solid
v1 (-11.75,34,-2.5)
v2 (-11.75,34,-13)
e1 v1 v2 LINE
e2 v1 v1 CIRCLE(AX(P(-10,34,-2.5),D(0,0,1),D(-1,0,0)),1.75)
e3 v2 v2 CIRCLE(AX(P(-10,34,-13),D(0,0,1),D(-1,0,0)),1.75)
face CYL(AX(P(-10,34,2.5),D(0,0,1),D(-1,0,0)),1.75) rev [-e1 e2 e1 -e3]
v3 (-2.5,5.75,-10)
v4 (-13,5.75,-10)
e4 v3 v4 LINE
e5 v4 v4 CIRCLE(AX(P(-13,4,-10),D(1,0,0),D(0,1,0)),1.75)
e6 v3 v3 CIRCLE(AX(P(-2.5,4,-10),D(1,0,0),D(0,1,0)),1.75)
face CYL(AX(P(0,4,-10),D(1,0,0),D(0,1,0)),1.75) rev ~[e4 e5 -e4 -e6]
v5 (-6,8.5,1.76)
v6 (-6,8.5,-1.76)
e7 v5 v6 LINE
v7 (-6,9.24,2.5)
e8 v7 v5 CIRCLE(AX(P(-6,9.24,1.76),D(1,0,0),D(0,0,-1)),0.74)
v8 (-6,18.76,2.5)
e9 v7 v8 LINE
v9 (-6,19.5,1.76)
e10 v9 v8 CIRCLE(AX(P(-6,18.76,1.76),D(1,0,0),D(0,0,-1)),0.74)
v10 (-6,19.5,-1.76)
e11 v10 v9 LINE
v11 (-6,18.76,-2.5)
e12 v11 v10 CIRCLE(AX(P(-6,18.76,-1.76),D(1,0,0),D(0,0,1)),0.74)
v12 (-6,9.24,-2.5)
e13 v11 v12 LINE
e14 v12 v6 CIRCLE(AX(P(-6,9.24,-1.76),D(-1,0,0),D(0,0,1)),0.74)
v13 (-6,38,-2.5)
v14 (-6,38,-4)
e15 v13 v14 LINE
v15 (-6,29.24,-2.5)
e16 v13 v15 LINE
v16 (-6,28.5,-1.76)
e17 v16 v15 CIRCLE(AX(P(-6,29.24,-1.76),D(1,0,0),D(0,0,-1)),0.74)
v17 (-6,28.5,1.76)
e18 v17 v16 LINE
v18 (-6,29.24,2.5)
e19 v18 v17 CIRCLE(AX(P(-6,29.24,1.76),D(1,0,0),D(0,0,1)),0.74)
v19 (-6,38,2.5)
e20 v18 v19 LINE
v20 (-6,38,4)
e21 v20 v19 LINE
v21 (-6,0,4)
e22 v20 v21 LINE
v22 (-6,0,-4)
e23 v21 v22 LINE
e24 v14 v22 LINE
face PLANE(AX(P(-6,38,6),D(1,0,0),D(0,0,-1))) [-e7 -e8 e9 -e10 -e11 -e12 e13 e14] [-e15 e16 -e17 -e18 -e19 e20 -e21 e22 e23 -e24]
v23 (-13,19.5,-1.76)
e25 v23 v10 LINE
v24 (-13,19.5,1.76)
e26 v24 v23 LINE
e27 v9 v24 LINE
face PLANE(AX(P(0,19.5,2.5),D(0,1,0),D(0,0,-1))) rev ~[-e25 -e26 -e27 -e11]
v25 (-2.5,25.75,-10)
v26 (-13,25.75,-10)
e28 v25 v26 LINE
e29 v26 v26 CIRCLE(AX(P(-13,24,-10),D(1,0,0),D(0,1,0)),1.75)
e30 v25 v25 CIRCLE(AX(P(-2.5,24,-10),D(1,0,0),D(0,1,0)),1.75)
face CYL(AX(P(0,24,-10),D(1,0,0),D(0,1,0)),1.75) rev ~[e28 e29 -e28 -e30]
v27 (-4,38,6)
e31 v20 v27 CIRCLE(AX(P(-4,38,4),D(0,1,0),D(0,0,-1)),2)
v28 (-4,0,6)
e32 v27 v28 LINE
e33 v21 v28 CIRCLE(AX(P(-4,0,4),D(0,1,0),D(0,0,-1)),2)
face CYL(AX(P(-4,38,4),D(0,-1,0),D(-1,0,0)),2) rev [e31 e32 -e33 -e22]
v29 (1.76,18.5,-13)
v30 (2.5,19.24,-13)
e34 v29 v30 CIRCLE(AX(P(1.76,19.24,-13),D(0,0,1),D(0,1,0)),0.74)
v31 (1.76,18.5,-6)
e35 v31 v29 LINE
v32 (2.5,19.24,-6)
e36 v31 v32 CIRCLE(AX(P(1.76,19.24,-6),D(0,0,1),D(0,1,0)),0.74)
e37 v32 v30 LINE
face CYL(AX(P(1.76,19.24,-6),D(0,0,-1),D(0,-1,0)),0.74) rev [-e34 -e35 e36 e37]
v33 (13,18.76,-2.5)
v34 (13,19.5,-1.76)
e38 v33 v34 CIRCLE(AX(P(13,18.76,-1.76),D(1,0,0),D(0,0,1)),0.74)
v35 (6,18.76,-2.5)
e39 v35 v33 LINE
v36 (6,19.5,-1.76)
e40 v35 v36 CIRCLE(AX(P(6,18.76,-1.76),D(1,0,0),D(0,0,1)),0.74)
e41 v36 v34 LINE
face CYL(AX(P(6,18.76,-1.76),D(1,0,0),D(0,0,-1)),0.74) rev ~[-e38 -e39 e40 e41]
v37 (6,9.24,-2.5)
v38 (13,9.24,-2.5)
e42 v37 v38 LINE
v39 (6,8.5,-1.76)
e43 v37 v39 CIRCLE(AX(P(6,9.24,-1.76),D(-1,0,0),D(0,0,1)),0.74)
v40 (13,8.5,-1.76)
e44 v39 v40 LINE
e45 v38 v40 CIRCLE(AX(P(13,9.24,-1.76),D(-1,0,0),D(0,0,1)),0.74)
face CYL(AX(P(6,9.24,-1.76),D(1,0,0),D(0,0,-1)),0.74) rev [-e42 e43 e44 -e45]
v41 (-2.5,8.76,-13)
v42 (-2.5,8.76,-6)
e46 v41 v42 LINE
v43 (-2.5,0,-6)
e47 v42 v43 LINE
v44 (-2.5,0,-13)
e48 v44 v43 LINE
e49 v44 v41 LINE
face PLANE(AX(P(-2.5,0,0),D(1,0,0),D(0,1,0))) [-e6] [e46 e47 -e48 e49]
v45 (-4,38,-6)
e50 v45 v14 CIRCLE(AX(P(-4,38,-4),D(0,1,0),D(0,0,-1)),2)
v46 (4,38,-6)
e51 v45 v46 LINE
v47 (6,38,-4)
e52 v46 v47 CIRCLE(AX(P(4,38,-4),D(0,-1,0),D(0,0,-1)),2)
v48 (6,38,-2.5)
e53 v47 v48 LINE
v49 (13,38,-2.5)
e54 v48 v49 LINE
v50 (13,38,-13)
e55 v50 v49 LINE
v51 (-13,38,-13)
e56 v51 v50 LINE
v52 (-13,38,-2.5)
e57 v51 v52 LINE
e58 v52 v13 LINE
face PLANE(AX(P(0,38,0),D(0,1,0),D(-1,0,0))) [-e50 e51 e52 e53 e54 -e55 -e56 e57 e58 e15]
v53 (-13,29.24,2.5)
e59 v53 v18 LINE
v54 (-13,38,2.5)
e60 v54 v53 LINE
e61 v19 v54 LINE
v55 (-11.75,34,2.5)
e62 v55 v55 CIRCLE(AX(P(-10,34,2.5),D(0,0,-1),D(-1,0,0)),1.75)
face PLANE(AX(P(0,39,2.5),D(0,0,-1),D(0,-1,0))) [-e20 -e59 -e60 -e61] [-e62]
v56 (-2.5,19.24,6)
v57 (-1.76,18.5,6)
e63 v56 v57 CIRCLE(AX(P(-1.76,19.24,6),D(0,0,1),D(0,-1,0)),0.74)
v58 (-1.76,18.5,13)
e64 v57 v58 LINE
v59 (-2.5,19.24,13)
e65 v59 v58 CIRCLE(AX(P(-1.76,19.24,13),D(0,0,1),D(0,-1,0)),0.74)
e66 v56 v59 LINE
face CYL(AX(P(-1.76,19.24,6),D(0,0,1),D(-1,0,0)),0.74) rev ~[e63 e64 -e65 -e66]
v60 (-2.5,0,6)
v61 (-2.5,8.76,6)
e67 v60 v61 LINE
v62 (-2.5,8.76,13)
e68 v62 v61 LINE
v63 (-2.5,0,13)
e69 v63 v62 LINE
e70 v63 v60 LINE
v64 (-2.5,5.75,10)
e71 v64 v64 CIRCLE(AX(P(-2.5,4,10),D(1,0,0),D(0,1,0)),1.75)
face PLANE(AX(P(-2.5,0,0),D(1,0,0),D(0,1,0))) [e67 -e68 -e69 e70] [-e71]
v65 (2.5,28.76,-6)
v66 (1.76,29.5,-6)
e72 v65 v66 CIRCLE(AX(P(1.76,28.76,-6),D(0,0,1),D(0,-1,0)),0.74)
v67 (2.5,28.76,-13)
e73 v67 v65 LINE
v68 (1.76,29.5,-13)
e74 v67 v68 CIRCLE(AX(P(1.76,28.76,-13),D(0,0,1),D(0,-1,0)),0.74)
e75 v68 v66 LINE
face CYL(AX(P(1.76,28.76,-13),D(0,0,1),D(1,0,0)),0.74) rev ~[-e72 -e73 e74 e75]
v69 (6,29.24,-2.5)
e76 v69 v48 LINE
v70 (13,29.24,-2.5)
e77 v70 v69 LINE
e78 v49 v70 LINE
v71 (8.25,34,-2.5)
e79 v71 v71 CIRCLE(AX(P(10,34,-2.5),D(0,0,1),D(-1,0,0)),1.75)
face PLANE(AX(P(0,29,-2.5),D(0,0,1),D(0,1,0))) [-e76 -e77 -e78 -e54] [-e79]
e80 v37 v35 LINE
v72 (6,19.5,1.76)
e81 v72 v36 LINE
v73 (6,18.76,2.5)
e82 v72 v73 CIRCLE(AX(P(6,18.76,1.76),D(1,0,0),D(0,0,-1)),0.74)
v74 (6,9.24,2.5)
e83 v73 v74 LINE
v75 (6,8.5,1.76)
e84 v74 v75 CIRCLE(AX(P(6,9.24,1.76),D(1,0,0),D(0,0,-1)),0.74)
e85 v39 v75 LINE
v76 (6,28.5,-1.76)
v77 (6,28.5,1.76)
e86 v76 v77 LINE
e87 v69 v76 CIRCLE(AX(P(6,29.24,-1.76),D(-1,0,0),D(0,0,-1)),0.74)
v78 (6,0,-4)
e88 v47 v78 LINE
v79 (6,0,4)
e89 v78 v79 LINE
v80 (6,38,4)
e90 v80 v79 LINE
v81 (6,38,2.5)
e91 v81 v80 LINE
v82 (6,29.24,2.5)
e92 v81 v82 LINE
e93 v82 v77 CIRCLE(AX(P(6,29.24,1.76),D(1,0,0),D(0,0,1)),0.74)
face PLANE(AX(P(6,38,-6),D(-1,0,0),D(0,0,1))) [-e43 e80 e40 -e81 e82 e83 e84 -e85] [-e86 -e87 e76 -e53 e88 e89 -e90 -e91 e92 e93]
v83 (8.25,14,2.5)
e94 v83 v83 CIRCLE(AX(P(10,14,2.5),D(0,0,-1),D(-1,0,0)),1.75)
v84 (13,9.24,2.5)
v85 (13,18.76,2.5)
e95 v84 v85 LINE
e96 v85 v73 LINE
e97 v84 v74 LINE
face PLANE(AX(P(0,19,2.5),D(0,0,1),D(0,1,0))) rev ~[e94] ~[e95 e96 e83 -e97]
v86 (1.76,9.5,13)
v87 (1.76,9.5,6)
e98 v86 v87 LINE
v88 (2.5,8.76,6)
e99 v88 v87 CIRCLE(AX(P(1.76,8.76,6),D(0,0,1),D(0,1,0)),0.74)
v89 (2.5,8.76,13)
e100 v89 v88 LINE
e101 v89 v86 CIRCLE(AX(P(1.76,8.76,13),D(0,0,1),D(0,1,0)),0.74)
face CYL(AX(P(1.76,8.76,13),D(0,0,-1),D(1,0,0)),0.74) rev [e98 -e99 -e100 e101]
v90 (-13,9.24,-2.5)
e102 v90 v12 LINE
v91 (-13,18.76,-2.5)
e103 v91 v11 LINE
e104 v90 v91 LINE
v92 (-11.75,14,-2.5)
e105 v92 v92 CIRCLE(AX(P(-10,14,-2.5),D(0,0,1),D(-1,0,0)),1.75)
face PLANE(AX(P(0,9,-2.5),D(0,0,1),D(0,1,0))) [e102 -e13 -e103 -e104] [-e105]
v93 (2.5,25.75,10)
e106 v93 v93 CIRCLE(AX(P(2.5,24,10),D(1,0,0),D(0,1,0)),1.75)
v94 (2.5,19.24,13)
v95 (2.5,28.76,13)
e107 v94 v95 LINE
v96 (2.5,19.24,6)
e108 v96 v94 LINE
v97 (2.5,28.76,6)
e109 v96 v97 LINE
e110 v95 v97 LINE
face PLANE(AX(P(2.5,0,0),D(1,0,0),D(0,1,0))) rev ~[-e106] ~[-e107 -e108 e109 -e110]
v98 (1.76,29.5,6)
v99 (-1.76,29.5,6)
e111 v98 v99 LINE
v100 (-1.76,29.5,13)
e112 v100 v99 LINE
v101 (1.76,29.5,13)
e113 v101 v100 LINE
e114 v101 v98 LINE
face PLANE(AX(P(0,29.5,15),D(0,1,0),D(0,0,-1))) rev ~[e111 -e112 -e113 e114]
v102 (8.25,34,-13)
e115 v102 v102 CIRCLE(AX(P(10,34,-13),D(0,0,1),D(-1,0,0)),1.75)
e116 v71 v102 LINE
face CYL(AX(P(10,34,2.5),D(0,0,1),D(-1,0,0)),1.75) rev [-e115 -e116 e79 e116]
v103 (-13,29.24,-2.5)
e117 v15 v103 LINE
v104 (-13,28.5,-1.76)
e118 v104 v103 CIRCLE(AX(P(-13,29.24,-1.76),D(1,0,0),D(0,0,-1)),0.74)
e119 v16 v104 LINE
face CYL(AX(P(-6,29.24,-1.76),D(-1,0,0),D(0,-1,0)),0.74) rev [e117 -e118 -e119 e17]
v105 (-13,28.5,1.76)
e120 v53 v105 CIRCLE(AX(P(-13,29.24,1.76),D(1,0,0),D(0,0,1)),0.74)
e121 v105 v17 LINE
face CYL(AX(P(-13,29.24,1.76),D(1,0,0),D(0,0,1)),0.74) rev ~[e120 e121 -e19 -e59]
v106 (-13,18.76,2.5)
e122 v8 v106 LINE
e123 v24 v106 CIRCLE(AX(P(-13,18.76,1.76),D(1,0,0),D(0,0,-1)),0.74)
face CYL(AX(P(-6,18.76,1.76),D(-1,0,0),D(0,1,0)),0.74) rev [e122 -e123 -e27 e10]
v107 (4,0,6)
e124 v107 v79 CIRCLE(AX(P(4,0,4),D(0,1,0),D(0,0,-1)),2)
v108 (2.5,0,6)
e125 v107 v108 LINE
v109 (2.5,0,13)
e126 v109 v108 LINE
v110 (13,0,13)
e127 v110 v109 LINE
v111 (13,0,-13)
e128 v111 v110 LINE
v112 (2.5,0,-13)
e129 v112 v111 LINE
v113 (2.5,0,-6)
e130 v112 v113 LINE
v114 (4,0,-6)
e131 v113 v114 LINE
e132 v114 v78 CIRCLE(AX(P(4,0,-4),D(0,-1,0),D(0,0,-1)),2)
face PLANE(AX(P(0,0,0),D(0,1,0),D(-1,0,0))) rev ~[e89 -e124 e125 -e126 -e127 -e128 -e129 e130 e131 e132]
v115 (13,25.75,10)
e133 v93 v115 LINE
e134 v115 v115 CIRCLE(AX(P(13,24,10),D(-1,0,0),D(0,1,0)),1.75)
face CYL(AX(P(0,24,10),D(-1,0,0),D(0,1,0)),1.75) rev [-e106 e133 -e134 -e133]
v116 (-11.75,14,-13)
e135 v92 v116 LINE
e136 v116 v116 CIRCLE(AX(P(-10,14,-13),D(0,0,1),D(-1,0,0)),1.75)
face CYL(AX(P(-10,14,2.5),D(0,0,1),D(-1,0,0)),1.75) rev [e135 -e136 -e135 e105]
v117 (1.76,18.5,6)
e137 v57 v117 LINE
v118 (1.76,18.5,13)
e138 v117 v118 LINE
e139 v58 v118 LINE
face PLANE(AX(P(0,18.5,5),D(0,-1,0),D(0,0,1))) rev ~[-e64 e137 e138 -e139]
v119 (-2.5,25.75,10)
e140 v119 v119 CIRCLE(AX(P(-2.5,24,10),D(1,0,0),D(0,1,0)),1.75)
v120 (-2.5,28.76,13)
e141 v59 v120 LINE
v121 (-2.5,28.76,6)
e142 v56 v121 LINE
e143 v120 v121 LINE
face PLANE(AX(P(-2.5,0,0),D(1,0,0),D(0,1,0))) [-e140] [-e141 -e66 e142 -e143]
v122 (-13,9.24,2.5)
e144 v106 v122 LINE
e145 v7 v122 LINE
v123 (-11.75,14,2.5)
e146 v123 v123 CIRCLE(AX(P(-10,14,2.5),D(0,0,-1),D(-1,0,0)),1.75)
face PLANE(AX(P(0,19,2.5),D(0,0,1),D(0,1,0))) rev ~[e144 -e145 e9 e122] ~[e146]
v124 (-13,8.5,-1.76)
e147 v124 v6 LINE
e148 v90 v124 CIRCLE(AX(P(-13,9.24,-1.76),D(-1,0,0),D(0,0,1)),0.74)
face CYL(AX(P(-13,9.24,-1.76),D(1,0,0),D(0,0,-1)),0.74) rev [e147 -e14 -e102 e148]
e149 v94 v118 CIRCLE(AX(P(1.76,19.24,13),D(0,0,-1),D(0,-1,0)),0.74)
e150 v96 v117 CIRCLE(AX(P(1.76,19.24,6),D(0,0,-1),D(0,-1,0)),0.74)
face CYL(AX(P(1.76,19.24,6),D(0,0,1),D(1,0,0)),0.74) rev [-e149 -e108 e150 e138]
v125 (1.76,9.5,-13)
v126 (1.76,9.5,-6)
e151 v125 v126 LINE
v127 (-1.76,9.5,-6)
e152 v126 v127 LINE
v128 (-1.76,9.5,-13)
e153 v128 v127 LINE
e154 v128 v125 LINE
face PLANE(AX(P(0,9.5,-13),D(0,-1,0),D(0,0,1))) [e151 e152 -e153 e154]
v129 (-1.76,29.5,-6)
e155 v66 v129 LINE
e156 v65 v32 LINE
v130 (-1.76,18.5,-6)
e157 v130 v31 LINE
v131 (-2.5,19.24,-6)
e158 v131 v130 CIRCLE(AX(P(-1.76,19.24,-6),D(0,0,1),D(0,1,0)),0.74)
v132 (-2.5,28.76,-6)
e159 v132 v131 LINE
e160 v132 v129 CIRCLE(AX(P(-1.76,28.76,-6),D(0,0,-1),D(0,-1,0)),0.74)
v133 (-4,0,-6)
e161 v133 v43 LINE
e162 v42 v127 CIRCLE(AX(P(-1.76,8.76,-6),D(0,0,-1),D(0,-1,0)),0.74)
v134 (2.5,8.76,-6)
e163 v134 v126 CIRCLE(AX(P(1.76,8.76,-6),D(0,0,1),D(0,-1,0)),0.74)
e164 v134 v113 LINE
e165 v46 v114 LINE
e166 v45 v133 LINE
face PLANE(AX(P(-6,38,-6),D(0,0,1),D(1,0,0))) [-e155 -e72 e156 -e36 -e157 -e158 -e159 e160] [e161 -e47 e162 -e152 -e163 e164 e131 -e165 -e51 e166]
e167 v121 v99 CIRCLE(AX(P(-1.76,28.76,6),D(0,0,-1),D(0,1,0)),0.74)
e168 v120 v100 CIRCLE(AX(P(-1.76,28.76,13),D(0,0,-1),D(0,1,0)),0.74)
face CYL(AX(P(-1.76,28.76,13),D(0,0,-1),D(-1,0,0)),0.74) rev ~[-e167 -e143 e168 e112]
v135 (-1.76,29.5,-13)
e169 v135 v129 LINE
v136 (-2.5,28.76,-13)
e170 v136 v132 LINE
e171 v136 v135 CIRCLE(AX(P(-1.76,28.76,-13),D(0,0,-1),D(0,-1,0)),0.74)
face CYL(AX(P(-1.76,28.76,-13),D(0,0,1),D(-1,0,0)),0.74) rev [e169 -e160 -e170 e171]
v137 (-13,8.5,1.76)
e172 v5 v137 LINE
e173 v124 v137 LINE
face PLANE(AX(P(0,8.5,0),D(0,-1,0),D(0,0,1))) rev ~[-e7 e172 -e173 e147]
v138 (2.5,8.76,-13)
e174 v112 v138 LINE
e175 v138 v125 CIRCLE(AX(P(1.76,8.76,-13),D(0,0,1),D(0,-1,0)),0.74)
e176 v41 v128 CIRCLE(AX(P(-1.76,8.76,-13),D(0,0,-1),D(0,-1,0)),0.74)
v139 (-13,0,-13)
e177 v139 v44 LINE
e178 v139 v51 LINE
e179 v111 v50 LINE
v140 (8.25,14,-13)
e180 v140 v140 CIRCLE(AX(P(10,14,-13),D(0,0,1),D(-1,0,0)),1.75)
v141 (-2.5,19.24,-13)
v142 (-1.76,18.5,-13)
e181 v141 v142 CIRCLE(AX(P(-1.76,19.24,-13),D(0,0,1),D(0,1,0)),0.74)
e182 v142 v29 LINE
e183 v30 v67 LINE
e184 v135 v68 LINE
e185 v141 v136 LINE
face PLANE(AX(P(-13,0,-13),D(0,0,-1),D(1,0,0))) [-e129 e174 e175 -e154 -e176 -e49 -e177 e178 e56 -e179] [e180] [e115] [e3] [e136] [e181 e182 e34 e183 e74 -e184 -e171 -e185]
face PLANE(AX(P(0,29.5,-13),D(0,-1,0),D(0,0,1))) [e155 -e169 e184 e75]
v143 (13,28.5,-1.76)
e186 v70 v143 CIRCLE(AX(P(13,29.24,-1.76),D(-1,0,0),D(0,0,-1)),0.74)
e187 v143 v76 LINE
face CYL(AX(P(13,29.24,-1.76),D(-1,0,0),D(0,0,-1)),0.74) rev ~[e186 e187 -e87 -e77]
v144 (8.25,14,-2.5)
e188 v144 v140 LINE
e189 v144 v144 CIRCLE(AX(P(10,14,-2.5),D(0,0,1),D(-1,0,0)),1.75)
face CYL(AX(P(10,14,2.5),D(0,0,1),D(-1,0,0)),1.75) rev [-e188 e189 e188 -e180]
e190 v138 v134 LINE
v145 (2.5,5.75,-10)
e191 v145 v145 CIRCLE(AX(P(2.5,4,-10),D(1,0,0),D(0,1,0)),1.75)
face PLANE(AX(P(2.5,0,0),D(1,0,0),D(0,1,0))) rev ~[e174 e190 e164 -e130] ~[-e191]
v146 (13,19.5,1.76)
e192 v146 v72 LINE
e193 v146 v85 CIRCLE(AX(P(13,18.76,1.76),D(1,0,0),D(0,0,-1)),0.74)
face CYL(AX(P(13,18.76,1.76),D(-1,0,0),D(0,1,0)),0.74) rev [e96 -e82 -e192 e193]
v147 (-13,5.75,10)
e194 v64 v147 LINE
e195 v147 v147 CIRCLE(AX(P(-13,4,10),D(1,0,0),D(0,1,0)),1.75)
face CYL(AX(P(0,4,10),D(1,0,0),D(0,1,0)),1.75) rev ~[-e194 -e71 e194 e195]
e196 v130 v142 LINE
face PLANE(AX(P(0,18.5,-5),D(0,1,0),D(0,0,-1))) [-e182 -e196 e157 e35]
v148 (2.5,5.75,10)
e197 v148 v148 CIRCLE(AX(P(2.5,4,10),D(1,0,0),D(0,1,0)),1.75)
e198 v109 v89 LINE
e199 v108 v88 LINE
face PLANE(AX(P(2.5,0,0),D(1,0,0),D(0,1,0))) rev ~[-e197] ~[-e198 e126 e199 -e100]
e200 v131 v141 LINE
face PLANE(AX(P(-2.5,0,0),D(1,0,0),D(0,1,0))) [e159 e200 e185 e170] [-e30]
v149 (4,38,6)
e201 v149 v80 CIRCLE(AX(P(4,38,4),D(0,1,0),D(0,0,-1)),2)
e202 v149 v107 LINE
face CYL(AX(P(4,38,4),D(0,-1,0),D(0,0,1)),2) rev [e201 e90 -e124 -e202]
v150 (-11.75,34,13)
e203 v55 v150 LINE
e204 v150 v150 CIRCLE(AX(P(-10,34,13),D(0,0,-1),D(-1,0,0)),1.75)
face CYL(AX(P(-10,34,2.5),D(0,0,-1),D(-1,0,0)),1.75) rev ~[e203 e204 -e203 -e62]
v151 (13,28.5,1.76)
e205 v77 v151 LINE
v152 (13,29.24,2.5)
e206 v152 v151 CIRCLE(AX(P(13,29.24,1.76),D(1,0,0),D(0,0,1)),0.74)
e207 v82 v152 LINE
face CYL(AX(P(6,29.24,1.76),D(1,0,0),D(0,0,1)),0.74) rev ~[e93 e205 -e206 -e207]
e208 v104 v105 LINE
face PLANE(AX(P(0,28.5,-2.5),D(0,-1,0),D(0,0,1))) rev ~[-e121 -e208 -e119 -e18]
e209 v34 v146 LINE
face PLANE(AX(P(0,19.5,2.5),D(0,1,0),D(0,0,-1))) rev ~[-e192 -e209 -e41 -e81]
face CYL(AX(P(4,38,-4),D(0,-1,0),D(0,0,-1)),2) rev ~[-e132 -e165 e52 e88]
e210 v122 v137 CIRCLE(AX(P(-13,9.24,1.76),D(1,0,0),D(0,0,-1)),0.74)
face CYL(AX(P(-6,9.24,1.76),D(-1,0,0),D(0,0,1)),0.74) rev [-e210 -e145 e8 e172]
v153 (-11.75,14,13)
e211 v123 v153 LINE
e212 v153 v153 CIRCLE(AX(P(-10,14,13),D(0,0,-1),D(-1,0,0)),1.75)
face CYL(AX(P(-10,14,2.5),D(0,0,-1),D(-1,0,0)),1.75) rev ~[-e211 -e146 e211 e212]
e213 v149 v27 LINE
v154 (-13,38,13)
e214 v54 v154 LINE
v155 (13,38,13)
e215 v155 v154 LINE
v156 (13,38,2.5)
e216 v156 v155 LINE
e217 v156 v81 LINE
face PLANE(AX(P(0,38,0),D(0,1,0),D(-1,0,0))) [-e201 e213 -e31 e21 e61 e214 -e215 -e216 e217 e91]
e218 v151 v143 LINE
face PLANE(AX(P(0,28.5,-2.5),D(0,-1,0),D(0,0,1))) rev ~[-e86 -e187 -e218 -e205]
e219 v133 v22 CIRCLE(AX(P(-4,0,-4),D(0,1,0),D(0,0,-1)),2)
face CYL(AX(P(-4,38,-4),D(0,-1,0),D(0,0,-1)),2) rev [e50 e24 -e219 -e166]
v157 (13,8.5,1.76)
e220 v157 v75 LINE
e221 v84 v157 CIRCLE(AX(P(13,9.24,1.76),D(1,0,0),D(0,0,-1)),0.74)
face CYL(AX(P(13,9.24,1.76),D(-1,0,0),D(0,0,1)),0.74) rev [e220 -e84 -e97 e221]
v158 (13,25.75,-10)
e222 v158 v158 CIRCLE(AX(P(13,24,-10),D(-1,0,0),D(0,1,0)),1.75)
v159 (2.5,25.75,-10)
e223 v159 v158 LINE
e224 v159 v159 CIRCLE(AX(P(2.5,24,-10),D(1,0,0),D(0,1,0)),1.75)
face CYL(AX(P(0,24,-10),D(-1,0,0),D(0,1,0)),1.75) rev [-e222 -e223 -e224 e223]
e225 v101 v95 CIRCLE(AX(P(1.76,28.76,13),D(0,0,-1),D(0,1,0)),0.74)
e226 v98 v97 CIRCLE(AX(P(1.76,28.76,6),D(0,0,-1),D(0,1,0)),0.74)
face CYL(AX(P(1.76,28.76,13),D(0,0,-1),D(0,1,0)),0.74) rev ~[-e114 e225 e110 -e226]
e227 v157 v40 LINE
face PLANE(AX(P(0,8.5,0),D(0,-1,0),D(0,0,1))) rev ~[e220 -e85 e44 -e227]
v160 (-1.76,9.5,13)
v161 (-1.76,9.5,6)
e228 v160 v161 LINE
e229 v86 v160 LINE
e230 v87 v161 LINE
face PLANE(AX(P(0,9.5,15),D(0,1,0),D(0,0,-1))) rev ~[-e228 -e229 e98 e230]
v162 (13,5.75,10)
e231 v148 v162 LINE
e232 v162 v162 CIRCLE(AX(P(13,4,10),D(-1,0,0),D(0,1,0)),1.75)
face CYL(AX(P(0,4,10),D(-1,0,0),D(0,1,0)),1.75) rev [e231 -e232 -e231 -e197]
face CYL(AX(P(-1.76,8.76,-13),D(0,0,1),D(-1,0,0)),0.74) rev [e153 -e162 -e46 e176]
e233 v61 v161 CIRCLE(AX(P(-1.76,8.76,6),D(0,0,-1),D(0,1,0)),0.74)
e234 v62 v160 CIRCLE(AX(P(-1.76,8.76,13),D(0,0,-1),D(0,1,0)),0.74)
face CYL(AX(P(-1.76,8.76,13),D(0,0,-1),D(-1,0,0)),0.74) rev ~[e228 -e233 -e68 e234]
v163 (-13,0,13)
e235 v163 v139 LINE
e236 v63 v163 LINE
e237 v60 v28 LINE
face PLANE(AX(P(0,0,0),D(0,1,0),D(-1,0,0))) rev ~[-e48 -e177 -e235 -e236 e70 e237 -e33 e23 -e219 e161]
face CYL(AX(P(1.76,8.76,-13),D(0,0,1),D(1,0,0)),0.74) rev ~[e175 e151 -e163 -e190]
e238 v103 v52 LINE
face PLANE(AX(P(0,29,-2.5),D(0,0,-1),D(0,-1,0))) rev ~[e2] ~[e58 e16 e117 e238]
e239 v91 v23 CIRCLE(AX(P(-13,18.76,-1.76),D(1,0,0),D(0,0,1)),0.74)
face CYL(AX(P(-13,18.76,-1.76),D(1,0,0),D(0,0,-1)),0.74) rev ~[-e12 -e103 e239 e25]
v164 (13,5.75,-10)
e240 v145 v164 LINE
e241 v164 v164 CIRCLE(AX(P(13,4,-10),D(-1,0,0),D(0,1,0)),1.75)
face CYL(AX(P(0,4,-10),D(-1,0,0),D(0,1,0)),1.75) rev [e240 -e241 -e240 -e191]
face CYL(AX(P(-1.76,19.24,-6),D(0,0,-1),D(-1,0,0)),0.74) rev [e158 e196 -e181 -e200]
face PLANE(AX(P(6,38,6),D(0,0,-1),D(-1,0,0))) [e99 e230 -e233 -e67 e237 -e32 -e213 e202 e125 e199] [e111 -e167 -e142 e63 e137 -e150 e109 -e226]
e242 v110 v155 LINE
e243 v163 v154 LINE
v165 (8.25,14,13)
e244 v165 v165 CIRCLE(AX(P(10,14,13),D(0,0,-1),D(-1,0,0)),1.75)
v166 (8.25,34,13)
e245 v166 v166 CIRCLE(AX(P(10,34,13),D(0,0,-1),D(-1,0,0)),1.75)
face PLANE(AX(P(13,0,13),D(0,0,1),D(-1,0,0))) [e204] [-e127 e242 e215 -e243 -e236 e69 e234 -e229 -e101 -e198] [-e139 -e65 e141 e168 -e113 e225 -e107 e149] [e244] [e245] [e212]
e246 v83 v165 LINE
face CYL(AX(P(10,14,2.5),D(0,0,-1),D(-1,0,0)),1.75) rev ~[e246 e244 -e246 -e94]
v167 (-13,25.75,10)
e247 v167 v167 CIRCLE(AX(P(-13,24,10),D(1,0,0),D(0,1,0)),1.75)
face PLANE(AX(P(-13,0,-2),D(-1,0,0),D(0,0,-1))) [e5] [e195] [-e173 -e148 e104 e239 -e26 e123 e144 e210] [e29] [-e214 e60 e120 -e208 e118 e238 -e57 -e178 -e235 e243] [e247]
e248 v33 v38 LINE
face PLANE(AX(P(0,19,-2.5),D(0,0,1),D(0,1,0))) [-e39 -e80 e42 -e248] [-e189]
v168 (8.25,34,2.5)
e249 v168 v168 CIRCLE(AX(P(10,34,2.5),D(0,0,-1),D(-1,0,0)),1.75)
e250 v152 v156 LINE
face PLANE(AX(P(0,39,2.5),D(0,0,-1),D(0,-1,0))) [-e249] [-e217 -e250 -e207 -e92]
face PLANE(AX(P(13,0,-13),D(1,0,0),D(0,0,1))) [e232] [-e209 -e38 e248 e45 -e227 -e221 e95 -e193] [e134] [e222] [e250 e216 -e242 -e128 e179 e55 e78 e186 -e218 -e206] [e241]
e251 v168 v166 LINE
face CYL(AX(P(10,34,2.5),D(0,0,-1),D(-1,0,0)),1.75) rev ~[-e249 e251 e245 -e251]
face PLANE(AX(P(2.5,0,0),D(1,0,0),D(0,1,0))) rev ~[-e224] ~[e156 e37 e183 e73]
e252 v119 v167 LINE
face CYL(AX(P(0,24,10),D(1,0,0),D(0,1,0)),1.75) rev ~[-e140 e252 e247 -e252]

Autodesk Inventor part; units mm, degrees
ref_plane "YZ Plane" through (0, 0, 0) normal (1, 0, 0) x (0, 1, 0)
ref_plane "XZ Plane" through (0, 0, 0) normal (0, 1, 0) x (-1, 0, 0)
ref_plane "XY Plane" through (0, 0, 0) normal (0, 0, 1) x (1, 0, 0)
sketch "Sketch1" plane through (0, 0, 0) normal (0, 1, 0) x (-1, 0, 0)
  line L0 (5, 5) -> (-5, 5)
  line L1 (-5, 5) -> (-5, -5)
  line L2 (-5, -5) -> (5, -5)
  line L3 (5, -5) -> (5, 5)
  line L4 (5, 5) -> (-5, -5) construction
  line L5 (-5, 5) -> (5, -5) construction
  line L6 (15, 0) -> (15, -2)
  line L7 (15, -2) -> (5, -2)
  line L8 (5, -2) -> (5, 0)
  line L9 (15, 0) -> (15, 2)
  line L10 (15, 2) -> (5, 2)
  line L11 (-13, 13) -> (13, 13)
  line L12 (13, 13) -> (13, -13)
  line L13 (13, -13) -> (-13, -13)
  line L14 (-13, -13) -> (-13, 13)
  line L15 (-13, 13) -> (13, -13) construction
  line L16 (13, 13) -> (-13, -13) construction
  point P0 (0, 0)
  point P1 (10, 0)
  point P2 (13, 0)
  dimension "d0" = 10
  dimension "d1" = 10
  dimension "d2" = 10
  dimension "d3" = 2
  dimension "d4" = 5
  dimension "d5" = 2
  dimension "d6" = 3
  dimension "d7" = 3
extrude "Extrusion1" add sketch "Sketch1" along normal blind 38 contours L0 L1 L2 L3 L7 L12 L13 L14 L11 L10 | L10 L12 L7 L3
sketch "Sketch2" plane through (0, 0, 0) normal (1, 0, 0) x (0, 1, 0)
  line L0 (0, -13) -> (0, 13) projected
  line L1 (0, 5) -> (38, 5) projected
  line L2 (0, -5) -> (38, -5) projected
  line L3 (0, -13) -> (38, -13) projected
  circle A0 centre (4, 10) radius 1.75
  line L4 (-1.5, 15) -> (9.5, 15)
  line L5 (9.5, 15) -> (9.5, 5)
  line L6 (9.5, 5) -> (-1.5, 5)
  line L7 (-1.5, 5) -> (-1.5, 15)
  line L8 (-1.5, 15) -> (9.5, 5) construction
  line L9 (9.5, 15) -> (-1.5, 5) construction
  line L10 (0, 0) -> (20.9563, 0)
  circle A1 centre (14, 10) radius 1.75
  circle A2 centre (24, 10) radius 1.75
  line L11 (18.5, 15) -> (29.5, 15)
  line L12 (29.5, 15) -> (29.5, 5)
  line L13 (29.5, 5) -> (18.5, 5)
  line L14 (18.5, 5) -> (18.5, 15)
  line L15 (18.5, 15) -> (29.5, 5) construction
  line L16 (29.5, 15) -> (18.5, 5) construction
  circle A3 centre (4, -10) radius 1.75
  line L17 (-1.5, -15) -> (9.5, -15)
  line L18 (9.5, -15) -> (9.5, -5)
  line L19 (9.5, -5) -> (-1.5, -5)
  line L20 (-1.5, -5) -> (-1.5, -15)
  circle A4 centre (24, -10) radius 1.75
  line L21 (18.5, -15) -> (29.5, -15)
  line L22 (29.5, -15) -> (29.5, -5)
  line L23 (29.5, -5) -> (18.5, -5)
  line L24 (18.5, -5) -> (18.5, -15)
  line L25 (39, 2.5) -> (29, 2.5)
  line L26 (29, 2.5) -> (29, -2.5)
  line L27 (29, -2.5) -> (39, -2.5)
  line L28 (39, -2.5) -> (39, 2.5)
  line L29 (39, 2.5) -> (29, -2.5) construction
  line L30 (29, 2.5) -> (39, -2.5) construction
  line L31 (19, 2.5) -> (9, 2.5)
  line L32 (9, 2.5) -> (9, -2.5)
  line L33 (9, -2.5) -> (19, -2.5)
  line L34 (19, -2.5) -> (19, 2.5)
  line L35 (19, 2.5) -> (9, -2.5) construction
  line L36 (9, 2.5) -> (19, -2.5) construction
  line L37 (29, -2.5) -> (28.5, -2.5)
  line L38 (28.5, -2.5) -> (28.5, 2.5)
  line L39 (28.5, 2.5) -> (29, 2.5)
  line L40 (29, 2.5) -> (29, -2.5)
  line L41 (8.5, 2.75) -> (19.5, 2.75)
  line L42 (19.5, 2.75) -> (19.5, -2.75)
  line L43 (19.5, -2.75) -> (8.5, -2.75)
  line L44 (8.5, -2.75) -> (8.5, 2.75)
  line L45 (8.5, 2.75) -> (19.5, -2.75) construction
  line L46 (19.5, 2.75) -> (8.5, -2.75) construction
  line L47 (19, -2.5) -> (19.5, -2.5)
  line L48 (19, 2.5) -> (19.5, 2.5)
  line L49 (9, -2.5) -> (8.5, -2.5)
  line L50 (9, 2.5) -> (8.5, 2.5)
  point P0 (0, 0)
  point P1 (0, 0)
  point P2 (0, 10)
  point P3 (34, 10)
  point P4 (14, 0)
  point P5 (34, 0)
  point P6 (9.5, -13)
  point P7 (9.5, -5)
  point P8 (18.5, -5)
  point P9 (18.5, -13)
  point P10 (29.5, -13)
  point P11 (29.5, -5)
  point P12 (18.5, 5)
  point P13 (9, 0)
  point P14 (19, 0)
  dimension "d10" = 5
  dimension "d11" = 13
  dimension "d12" = 5
  dimension "d13" = 4
  dimension "d14" = 3.5
  dimension "d15" = 0
  dimension "d16" = 11
  dimension "d17" = 10
  dimension "d18" = 10
  dimension "d19" = 3.5
  dimension "d20" = 10
  dimension "d21" = 3.5
  dimension "d22" = 11
  dimension "d23" = 10
  dimension "d24" = 10
  dimension "d25" = 10
  dimension "d26" = 5
  dimension "d27" = 10
  dimension "d43" = 5
  dimension "d44" = 2.5
  dimension "d51" = 0.5
  dimension "d52" = 11
extrude "Extrusion2" cut sketch "Sketch2" along normal mid plane 5 contours L0 L2 L18 L3 | L14 L11 L12 L1 | L6 L7 L4 L5 L1 | L24 L2 L22 L3
extrude "Extrusion3" cut sketch "Sketch2" along normal mid plane 53 contours A0 | A2 | A3 | A4
extrude "Extrusion4" cut sketch "Sketch2" along normal mid plane 53 contours L32 L31 L34 L10 | L10 L34 L33 L32 | L28 L27 L26 L25
sketch "Sketch3" plane through (-5, 9, 2.5) normal (0, 0, -1) x (-1, 0, 0)
  line L0 (8, 10) -> (8, 0) projected
  line L1 (0, 0) -> (0, 10) projected
  line L2 (8, 10) -> (0, 10) projected
  line L3 (0, 20) -> (0, 29) projected
  line L4 (0, 20) -> (8, 20) projected
  circle A0 centre (5, 25) radius 1.75
  circle A1 centre (5, 5) radius 1.75
  line L5 (-7.5, 0.5) -> (-2.5, 0.5) projected
  line L6 (-5, 0.5) -> (-5, 17.2695)
  circle A2 centre (-15, 25) radius 1.75
  circle A3 centre (-15, 5) radius 1.75
  point P0 (-5, -9)
  dimension "d35" = 5
  dimension "d36" = 5
  dimension "d37" = 5
  dimension "d38" = 5
  dimension "d39" = 3.5
  dimension "d40" = 3.5
extrude "Extrusion5" cut sketch "Sketch3" along normal mid plane 53
sketch "Sketch4" plane through (0, 38, 0) normal (0, 1, 0) x (1, 0, 0)
  line L0 (6, -6) -> (-6, -6)
  line L1 (-6, -6) -> (-6, 6)
  line L2 (-6, 6) -> (6, 6)
  line L3 (6, 6) -> (6, -6)
  line L4 (6, -6) -> (-6, 6) construction
  line L5 (-6, -6) -> (6, 6) construction
  point P0 (0, 0)
  dimension "d45" = 12
  dimension "d46" = 12
extrude "Extrusion6" cut sketch "Sketch4" against normal blind 53
fillet "Fillet1" radius 2 4 edges at (-6, 19, -6) (6, 19, -6) (-6, 19, 6) (6, 19, 6)
extrude "Extrusion7" cut sketch "Sketch2" along normal mid plane 53 contours L44 L50 L32 L10 | L10 L32 L49 L44 | L34 L48 L42 L10 | L10 L42 L47 L34 | L26 L37 L38 L39
fillet "Fillet3" radius 0.74 24 edges at (-9.5, 28.5, -2.5) (9.5, 28.5, -2.5) (-9.5, 28.5, 2.5) (9.5, 28.5, 2.5) (-9.5, 19.5, -2.5) (9.5, 19.5, -2.5) (-9.5, 19.5, 2.5) (9.5, 19.5, 2.5) (-9.5, 8.5, -2.5) (9.5, 8.5, -2.5) (-9.5, 8.5, 2.5) (9.5, 8.5, 2.5) (2.5, 29.5, 9.5) (-2.5, 29.5, 9.5) (-2.5, 18.5, 9.5) (2.5, 18.5, 9.5) (2.5, 9.5, 9.5) (-2.5, 9.5, 9.5) (2.5, 29.5, -9.5) (-2.5, 29.5, -9.5) (-2.5, 18.5, -9.5) (2.5, 18.5, -9.5) (-2.5, 9.5, -9.5) (2.5, 9.5, -9.5)
sketch "Sketch5" plane through (-13, 0, -13) normal (-1, 0, 0) x (0, 0, 1)
  point P0 (13, 0)
equation "\"d7\" = d6"
equation "\"d44\" = 0.5 * d43"
properties part number "carriage_v1" material "ABS プラスチック"
